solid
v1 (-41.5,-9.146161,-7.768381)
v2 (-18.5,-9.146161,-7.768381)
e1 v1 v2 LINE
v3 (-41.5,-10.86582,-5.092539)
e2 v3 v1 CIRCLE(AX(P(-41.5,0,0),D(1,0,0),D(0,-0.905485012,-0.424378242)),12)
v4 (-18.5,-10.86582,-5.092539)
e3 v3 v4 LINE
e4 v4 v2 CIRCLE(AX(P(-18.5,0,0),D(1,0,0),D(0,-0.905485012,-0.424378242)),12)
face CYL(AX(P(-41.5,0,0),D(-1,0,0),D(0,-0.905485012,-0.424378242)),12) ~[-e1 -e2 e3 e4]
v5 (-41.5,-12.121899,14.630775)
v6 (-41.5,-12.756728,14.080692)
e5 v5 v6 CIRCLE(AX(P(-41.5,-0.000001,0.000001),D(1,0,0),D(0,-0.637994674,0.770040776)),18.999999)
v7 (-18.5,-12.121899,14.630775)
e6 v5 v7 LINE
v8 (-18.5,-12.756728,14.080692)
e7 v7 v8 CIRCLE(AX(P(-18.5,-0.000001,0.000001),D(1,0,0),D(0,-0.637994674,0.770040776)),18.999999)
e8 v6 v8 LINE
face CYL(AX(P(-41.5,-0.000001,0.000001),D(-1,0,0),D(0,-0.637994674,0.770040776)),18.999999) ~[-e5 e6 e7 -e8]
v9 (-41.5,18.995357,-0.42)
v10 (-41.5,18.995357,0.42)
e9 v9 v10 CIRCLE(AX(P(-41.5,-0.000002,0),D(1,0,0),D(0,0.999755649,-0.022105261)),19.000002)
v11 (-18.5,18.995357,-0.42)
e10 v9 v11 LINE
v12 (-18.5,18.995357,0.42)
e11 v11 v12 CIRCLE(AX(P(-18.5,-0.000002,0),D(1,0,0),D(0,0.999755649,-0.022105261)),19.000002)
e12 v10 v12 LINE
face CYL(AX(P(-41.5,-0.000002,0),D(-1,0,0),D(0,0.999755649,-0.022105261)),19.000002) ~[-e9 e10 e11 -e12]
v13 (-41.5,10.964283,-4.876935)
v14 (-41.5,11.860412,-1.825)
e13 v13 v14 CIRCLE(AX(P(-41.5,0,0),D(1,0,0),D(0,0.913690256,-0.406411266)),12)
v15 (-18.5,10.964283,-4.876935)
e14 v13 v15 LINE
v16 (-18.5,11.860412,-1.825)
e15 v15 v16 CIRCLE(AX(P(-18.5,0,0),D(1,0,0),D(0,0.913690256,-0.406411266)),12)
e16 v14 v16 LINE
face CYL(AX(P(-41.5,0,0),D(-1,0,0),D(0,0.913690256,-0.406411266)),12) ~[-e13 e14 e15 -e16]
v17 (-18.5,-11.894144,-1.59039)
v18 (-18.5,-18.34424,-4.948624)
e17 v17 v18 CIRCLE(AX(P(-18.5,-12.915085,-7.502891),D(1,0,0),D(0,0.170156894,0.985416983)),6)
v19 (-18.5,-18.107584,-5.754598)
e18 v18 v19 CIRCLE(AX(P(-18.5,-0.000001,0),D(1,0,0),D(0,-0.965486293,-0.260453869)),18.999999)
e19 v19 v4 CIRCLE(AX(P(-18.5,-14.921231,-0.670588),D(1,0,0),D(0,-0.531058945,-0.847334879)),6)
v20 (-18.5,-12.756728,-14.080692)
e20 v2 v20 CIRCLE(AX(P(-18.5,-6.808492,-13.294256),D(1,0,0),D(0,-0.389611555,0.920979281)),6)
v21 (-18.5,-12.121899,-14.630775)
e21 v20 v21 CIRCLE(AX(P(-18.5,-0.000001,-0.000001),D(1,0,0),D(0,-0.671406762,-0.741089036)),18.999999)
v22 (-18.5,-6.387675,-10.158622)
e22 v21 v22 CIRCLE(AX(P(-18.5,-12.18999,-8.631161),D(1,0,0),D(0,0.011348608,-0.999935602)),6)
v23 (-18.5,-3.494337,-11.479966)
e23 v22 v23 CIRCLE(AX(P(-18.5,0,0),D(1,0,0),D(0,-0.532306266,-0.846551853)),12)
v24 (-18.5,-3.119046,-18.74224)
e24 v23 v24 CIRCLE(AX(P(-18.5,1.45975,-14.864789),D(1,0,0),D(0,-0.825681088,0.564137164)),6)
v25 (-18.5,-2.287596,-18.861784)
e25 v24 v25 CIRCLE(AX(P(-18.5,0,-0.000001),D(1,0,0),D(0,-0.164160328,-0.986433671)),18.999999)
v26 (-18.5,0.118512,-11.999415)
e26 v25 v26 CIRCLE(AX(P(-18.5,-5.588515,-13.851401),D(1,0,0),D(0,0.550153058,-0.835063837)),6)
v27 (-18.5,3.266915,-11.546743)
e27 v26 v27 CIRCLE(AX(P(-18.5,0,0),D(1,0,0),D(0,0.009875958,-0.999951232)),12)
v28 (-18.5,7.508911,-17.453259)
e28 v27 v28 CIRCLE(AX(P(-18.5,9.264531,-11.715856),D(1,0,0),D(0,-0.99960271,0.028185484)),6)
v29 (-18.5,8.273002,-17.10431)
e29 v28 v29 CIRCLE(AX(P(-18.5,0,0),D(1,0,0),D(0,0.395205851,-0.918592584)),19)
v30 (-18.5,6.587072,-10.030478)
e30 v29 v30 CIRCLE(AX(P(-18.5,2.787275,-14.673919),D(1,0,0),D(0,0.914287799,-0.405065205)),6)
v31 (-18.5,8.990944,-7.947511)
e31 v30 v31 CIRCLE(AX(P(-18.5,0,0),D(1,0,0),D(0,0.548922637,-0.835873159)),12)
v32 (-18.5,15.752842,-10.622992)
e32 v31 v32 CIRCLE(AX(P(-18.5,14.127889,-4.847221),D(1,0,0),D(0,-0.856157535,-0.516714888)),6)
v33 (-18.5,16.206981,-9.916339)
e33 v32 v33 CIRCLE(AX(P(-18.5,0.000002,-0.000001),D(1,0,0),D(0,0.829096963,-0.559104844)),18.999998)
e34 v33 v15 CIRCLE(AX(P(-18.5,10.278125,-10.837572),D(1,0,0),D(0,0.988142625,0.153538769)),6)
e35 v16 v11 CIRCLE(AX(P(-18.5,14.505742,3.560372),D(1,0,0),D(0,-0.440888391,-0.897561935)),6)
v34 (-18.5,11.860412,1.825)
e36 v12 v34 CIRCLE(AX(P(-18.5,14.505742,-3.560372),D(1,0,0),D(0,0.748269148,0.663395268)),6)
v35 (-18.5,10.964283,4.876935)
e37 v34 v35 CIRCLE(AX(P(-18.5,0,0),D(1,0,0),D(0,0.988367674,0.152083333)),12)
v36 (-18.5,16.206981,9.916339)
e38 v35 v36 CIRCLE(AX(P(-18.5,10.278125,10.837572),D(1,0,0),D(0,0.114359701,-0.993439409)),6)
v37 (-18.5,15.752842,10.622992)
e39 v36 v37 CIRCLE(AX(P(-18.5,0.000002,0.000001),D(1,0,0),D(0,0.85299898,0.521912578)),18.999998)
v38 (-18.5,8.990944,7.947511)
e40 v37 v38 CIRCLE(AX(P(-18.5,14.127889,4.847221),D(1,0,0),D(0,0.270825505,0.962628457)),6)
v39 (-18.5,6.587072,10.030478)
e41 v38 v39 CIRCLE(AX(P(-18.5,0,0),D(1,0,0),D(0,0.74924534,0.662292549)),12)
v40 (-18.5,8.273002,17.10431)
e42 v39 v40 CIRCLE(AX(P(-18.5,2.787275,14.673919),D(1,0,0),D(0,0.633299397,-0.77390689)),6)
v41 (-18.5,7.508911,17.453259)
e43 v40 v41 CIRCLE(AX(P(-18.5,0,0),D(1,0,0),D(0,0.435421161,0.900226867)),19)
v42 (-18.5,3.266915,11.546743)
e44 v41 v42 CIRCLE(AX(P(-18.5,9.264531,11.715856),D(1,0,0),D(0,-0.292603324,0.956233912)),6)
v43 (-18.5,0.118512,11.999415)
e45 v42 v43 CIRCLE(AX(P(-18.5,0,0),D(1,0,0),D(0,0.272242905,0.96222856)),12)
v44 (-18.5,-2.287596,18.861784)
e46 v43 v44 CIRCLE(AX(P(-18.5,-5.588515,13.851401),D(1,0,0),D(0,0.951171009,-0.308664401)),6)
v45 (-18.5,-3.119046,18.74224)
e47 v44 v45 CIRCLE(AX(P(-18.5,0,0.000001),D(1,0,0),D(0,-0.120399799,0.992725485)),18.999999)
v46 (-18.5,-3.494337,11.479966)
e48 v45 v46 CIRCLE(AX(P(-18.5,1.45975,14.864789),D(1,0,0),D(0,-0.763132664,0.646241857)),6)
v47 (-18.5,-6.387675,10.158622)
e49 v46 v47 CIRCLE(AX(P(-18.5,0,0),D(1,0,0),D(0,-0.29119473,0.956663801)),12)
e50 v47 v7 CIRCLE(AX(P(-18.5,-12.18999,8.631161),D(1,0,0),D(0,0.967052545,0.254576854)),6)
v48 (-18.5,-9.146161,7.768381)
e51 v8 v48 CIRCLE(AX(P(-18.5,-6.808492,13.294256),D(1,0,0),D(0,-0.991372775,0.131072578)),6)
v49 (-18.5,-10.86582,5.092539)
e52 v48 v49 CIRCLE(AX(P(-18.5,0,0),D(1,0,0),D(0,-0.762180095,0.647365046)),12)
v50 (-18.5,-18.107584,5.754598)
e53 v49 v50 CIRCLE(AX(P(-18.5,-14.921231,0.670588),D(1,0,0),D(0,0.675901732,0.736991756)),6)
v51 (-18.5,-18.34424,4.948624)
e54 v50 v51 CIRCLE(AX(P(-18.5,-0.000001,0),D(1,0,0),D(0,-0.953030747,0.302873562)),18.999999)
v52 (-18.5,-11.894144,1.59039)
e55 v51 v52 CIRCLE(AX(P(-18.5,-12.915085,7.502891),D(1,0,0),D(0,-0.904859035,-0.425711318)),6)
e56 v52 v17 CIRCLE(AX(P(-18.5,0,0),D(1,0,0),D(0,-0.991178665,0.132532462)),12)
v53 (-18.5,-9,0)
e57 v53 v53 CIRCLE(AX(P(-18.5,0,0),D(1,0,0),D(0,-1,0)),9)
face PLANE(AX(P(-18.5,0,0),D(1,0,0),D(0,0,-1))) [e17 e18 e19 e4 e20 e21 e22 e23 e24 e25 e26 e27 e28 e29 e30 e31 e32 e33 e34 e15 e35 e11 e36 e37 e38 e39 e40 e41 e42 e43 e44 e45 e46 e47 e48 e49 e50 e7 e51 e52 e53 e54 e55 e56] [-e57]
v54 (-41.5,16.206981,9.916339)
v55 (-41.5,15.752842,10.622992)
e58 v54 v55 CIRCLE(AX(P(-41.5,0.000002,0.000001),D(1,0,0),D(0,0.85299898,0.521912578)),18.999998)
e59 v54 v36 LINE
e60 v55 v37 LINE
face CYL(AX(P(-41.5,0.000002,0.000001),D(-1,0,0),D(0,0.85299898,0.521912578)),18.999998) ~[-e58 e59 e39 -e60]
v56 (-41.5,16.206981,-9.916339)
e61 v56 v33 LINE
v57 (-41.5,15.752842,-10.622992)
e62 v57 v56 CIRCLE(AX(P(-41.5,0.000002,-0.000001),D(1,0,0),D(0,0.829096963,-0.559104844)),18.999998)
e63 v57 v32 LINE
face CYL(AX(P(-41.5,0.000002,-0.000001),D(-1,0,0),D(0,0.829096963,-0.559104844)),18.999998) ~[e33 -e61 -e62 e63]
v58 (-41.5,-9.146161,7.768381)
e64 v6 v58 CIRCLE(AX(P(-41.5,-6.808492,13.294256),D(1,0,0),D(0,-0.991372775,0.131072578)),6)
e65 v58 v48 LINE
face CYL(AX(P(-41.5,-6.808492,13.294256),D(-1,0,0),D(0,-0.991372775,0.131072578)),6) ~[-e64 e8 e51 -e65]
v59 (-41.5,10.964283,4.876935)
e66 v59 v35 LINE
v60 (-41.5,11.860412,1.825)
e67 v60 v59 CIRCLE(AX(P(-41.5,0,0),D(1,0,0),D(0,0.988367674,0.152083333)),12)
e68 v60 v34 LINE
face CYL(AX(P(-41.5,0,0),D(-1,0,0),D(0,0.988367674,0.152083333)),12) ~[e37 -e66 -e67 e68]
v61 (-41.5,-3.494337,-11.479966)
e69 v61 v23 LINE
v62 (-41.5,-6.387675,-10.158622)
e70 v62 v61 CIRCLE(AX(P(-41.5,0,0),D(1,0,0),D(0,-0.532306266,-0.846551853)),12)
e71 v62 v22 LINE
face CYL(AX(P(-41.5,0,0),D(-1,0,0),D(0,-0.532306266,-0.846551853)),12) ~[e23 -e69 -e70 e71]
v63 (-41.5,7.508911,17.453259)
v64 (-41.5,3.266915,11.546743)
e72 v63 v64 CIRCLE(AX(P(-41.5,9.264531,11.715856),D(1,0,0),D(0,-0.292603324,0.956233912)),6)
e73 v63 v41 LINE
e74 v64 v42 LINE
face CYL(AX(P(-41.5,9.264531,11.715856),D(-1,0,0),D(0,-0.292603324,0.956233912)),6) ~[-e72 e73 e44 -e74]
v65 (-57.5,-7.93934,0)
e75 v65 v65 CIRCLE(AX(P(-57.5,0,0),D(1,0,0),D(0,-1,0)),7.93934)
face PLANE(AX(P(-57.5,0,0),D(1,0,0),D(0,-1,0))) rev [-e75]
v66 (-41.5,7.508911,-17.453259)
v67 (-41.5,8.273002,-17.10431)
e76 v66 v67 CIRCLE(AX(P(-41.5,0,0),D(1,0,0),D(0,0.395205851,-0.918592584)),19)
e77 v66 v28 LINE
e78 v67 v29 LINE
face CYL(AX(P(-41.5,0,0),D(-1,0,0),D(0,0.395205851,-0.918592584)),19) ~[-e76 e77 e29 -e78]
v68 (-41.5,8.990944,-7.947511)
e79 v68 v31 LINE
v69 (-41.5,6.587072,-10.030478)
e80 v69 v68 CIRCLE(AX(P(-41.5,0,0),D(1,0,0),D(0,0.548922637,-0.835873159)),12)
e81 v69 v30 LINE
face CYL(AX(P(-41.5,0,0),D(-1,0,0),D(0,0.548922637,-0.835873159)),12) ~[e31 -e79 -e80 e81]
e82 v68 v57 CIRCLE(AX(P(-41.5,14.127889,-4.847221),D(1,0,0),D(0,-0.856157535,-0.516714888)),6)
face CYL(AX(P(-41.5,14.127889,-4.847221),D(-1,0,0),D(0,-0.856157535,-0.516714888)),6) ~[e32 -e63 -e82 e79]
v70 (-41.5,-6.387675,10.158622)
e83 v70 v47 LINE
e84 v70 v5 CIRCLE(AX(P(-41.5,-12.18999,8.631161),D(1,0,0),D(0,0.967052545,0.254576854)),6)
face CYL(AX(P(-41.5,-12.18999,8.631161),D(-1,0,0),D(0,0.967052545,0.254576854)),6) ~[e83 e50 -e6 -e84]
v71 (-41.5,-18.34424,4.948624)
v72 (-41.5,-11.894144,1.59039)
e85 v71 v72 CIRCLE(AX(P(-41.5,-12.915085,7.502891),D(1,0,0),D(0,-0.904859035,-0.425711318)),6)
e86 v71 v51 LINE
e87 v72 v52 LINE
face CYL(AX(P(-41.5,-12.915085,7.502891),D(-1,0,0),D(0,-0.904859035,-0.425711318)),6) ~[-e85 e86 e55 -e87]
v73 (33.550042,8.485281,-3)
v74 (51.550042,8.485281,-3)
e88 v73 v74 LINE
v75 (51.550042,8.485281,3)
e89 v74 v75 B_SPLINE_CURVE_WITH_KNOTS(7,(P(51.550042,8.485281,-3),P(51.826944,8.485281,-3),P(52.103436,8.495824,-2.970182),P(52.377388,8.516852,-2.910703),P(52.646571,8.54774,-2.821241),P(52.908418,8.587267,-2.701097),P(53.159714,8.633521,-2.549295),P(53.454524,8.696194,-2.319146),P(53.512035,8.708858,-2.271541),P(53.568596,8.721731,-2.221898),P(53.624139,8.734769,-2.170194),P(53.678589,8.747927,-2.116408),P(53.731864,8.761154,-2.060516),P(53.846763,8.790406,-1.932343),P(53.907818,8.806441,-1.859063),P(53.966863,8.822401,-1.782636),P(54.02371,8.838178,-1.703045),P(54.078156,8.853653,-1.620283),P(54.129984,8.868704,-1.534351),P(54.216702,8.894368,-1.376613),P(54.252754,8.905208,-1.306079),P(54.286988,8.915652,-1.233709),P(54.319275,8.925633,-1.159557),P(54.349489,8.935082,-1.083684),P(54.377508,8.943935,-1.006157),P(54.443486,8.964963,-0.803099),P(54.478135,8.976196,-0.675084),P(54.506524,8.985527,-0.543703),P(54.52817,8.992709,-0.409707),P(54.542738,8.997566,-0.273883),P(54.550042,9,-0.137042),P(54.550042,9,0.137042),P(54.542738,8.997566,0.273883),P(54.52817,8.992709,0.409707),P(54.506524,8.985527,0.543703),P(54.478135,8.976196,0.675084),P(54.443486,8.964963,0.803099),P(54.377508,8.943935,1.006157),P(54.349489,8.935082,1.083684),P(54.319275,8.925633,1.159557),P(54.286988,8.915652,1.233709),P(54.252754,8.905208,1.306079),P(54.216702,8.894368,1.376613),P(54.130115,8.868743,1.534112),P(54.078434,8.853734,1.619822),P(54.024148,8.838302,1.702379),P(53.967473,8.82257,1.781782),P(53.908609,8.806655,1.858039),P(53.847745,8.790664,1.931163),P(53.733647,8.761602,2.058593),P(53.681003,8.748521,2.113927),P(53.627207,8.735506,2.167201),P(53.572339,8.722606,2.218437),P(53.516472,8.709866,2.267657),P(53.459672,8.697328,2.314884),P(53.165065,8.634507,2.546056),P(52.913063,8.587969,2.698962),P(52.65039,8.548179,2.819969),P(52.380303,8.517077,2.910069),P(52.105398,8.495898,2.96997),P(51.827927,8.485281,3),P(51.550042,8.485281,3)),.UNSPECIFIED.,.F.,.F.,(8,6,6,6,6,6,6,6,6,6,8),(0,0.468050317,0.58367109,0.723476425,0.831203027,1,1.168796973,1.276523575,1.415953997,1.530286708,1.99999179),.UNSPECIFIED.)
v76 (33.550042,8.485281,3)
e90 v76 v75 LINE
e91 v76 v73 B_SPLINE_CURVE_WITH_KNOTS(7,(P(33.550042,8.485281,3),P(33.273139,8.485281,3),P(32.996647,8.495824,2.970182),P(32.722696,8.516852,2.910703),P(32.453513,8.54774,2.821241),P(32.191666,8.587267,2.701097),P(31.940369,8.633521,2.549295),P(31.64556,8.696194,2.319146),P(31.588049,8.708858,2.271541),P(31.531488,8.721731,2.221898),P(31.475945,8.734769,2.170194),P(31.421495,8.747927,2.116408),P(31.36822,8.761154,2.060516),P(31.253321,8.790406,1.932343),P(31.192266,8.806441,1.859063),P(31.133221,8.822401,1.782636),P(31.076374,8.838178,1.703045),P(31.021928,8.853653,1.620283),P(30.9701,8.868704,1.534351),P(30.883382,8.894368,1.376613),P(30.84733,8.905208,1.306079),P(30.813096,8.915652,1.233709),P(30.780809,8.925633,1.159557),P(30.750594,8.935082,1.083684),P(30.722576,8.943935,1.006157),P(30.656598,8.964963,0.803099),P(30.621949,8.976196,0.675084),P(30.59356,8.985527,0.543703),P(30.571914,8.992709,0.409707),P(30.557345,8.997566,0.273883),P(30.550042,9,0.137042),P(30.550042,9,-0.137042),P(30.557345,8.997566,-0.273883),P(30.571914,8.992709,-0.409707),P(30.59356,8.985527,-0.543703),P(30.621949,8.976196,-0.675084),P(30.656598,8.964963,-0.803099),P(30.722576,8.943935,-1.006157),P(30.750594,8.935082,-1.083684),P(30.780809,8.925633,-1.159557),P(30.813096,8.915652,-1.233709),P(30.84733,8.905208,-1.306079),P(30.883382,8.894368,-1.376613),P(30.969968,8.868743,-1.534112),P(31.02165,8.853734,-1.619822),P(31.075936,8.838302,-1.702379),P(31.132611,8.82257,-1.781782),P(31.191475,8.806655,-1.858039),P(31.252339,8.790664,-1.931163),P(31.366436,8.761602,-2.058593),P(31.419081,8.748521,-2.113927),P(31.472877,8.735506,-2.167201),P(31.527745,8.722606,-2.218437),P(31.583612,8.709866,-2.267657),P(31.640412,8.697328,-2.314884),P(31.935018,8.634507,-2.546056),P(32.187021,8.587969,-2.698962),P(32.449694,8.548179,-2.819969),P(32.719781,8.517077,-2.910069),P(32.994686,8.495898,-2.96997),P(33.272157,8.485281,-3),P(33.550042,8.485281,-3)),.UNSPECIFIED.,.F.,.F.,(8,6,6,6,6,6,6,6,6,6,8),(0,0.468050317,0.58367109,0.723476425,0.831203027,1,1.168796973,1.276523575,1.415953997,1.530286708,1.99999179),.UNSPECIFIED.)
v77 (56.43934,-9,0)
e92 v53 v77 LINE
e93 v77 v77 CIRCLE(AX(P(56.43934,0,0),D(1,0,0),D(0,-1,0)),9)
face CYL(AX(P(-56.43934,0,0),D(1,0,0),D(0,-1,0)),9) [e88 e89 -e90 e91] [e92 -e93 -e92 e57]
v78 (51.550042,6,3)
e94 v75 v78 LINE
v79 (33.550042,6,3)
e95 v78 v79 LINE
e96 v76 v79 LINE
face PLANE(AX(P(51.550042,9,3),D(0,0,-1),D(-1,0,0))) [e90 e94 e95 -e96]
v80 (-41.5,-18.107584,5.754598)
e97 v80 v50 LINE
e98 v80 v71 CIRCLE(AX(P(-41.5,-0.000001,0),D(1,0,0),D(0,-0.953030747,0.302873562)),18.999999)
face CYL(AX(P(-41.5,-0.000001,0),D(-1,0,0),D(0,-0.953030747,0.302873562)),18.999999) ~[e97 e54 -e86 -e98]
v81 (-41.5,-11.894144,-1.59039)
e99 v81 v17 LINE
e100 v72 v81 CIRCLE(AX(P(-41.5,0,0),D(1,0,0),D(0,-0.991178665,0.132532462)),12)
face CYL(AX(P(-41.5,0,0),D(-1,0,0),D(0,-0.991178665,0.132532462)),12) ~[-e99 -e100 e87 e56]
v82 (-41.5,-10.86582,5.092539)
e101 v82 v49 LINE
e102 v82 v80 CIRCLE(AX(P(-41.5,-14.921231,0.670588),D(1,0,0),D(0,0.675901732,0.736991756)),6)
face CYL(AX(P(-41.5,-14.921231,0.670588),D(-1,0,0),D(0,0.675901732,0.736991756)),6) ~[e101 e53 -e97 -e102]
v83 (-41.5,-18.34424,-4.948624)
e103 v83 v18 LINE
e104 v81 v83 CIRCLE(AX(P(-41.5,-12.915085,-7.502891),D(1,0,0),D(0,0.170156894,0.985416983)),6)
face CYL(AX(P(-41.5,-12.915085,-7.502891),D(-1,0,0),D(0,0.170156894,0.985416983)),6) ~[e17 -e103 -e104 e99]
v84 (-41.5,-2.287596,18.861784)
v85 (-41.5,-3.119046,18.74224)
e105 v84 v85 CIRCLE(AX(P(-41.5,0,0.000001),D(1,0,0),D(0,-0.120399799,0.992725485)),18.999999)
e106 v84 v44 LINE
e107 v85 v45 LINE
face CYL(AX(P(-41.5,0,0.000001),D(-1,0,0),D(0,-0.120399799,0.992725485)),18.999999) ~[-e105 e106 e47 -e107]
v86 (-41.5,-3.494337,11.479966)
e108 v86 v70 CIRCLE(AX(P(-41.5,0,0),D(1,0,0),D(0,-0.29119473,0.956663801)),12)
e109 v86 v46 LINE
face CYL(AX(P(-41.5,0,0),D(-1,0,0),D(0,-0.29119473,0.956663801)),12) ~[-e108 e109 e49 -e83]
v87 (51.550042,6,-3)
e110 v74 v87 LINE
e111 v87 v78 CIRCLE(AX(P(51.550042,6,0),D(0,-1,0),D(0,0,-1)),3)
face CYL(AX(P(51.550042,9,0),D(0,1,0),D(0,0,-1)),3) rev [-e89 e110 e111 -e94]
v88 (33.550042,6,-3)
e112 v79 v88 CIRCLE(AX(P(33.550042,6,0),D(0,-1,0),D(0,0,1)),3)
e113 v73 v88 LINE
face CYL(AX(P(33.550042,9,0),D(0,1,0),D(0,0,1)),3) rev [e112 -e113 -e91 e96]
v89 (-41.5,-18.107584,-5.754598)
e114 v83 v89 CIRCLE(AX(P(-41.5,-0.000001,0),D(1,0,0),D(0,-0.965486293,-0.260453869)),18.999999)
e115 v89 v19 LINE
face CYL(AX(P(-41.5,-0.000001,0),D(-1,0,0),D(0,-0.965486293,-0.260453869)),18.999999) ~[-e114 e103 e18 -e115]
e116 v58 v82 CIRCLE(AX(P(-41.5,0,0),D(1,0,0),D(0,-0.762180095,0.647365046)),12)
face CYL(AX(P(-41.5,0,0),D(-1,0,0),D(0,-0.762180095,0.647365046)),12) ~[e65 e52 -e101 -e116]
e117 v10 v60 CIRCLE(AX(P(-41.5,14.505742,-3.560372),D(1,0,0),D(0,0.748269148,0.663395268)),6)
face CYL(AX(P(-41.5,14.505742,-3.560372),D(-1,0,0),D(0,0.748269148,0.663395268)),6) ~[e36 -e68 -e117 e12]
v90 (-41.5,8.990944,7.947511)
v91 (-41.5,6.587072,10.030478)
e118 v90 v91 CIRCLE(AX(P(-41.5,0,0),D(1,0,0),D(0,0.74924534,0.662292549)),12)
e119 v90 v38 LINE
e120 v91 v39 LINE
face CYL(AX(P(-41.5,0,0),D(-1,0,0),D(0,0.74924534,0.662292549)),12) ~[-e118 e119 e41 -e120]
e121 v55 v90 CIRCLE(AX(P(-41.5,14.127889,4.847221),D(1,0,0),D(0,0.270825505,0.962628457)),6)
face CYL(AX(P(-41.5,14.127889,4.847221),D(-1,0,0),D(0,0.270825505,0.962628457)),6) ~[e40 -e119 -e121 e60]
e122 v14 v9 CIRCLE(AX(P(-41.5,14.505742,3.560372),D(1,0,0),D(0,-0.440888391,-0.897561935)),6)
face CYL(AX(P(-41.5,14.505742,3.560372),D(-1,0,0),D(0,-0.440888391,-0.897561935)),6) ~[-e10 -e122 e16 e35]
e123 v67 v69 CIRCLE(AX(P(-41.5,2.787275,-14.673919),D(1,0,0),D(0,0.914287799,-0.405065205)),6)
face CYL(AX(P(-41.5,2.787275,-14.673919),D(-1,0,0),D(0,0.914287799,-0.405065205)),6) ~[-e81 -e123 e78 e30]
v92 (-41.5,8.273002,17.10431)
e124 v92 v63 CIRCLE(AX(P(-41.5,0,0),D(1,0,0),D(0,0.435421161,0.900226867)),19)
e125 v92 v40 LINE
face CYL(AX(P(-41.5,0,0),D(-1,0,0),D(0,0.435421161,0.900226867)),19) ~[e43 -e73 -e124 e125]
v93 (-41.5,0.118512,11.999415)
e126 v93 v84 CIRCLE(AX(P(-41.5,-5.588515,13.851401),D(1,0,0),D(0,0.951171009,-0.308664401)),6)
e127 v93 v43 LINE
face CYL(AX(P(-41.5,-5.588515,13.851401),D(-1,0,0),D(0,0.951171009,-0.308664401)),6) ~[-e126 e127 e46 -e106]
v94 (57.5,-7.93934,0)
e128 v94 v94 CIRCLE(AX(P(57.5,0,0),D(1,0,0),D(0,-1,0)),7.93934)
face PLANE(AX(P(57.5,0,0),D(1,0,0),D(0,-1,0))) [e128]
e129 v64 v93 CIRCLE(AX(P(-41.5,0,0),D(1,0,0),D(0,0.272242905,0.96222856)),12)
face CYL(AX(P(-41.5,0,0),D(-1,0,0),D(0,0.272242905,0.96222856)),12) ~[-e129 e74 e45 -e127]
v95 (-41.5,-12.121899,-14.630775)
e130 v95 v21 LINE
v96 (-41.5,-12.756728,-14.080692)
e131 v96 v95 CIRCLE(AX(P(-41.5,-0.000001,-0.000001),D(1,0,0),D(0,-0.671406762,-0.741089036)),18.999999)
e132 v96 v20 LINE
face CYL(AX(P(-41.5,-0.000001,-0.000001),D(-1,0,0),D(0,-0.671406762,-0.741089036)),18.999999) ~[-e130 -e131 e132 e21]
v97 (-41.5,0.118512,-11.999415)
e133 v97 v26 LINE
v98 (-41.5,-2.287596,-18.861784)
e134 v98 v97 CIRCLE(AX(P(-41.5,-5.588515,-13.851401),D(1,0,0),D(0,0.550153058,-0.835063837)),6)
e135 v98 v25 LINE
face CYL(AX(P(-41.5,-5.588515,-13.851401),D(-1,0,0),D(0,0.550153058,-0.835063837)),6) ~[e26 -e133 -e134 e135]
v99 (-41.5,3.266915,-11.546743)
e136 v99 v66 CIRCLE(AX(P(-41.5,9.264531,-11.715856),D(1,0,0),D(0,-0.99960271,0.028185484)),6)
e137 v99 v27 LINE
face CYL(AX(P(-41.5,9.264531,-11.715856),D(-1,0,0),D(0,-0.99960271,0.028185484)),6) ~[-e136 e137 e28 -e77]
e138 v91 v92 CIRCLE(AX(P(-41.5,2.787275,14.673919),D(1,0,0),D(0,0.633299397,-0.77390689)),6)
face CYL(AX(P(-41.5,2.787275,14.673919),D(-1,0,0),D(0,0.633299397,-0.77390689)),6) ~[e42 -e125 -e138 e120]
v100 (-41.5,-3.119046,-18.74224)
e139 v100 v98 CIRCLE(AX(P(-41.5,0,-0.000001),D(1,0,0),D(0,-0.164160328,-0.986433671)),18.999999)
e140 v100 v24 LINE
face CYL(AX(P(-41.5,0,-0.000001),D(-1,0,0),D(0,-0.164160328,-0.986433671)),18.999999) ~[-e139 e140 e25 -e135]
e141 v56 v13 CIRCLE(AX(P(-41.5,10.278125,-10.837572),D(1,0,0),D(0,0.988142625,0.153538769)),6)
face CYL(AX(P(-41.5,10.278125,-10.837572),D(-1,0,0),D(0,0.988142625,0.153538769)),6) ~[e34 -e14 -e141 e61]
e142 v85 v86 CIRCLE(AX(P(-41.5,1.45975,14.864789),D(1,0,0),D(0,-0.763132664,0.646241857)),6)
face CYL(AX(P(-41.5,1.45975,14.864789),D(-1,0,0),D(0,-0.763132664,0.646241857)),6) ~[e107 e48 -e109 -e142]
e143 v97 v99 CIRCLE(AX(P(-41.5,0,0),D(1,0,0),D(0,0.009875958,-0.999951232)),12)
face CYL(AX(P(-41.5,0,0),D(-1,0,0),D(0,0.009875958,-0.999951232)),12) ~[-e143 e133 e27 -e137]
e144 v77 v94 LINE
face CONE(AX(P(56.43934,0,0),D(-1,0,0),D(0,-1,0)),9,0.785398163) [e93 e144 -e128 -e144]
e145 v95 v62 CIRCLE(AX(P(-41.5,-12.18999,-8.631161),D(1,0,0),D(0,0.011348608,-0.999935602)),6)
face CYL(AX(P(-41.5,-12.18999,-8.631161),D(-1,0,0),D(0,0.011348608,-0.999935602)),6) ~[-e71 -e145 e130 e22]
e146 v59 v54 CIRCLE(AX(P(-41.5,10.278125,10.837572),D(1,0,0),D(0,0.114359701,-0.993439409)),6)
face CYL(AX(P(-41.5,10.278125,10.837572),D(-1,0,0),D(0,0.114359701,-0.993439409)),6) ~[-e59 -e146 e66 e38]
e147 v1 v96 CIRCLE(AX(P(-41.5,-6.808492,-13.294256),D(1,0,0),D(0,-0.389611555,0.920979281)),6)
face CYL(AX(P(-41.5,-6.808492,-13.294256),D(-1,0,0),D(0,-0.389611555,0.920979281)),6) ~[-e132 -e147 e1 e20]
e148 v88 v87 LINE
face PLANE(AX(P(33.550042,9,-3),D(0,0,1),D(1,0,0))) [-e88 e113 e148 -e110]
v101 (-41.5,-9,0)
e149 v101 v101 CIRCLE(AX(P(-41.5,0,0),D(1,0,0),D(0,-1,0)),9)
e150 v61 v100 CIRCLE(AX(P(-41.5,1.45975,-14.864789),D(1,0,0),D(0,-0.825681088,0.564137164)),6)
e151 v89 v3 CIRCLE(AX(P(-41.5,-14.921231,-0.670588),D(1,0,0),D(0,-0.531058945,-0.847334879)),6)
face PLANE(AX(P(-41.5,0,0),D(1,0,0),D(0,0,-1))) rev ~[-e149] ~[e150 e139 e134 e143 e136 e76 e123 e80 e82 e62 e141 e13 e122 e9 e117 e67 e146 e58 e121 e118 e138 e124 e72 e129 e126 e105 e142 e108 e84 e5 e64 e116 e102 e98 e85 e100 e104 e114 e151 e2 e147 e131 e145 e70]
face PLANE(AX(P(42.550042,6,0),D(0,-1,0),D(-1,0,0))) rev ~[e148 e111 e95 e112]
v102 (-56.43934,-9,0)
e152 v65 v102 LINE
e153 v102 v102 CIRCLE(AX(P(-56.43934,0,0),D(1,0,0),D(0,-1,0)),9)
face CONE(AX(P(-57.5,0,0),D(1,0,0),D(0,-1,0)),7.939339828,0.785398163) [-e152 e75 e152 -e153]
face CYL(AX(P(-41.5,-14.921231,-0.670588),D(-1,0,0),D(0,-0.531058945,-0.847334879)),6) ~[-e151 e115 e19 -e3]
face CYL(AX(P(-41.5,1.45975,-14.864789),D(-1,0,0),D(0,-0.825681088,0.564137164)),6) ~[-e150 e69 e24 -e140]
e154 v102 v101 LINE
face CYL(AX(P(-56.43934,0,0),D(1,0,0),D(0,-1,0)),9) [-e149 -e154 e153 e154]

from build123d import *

# Parameters (mm, degrees)
BOSS_EXTRUDE1_DEPTH = 23
CUT_EXTRUDE1_DEPTH  = 3


with BuildPart() as part:
    # Sketch1 → Revolve1 (revolve)
    with BuildSketch(Plane.XY):
        Polygon((-57.5, 0), (-57.5, -7.939339828), (-56.439339828, -9), (56.439339828, -9), (57.5, -7.939339828), (57.5, 0), align=None)
    revolve(axis=Axis((-100, 0, 0), (1, 0, 0)))

    # Sketch2 → Boss-Extrude1 (add)
    with BuildSketch(Plane.ZY.offset(41.5)):
        with BuildLine():
            ThreePointArc((-7.947510586, 8.990944082), (-10.426372404, 11.920385617), (-10.622991997, 15.752842316))
            ThreePointArc((-10.622991997, 15.752842316), (-10.272175532, 15.983817124), (-9.91633903, 16.206980602))
            ThreePointArc((-9.91633903, 16.206980602), (-6.511892526, 14.43606908), (-4.876935192, 10.964283065))
            ThreePointArc((-4.876935192, 10.964283065), (-3.380790682, 11.513915683), (-1.825, 11.860412092))
            ThreePointArc((-1.825, 11.860412092), (-2.326575595, 15.664989012), (-0.42, 18.995357328))
            ThreePointArc((-0.42, 18.995357328), (0, 19), (0.42, 18.995357328))
            ThreePointArc((0.42, 18.995357328), (2.326575595, 15.664989012), (1.825, 11.860412092))
            ThreePointArc((1.825, 11.860412092), (3.380790682, 11.513915683), (4.876935192, 10.964283065))
            ThreePointArc((4.876935192, 10.964283065), (6.511892526, 14.43606908), (9.91633903, 16.206980602))
            ThreePointArc((9.91633903, 16.206980602), (10.272175532, 15.983817124), (10.622991997, 15.752842316))
            ThreePointArc((10.622991997, 15.752842316), (10.426372404, 11.920385617), (7.947510586, 8.990944082))
            ThreePointArc((7.947510586, 8.990944082), (9.068994892, 7.858328807), (10.030477919, 6.587071635))
            ThreePointArc((10.030477919, 6.587071635), (13.282880781, 8.623799215), (17.104310483, 8.273002049))
            ThreePointArc((17.104310483, 8.273002049), (17.283007912, 7.892885247), (17.453259094, 7.508911173))
            ThreePointArc((17.453259094, 7.508911173), (15.215869643, 4.391144013), (11.546742716, 3.266914852))
            ThreePointArc((11.546742716, 3.266914852), (11.877857303, 1.707778059), (11.999414778, 0.118511503))
            ThreePointArc((11.999414778, 0.118511503), (15.836648241, 0.073534032), (18.861784211, -2.2875962))
            ThreePointArc((18.861784211, -2.2875962), (18.806607396, -2.703981927), (18.742239747, -3.119046212))
            ThreePointArc((18.742239747, -3.119046212), (15.174435781, -4.532254788), (11.479965619, -3.49433676))
            ThreePointArc((11.479965619, -3.49433676), (10.915583944, -4.984980156), (10.15862223, -6.387675194))
            ThreePointArc((10.15862223, -6.387675194), (13.36239178, -8.500077686), (14.630774723, -12.12189882))
            ThreePointArc((14.630774723, -12.12189882), (14.359241913, -12.442353945), (14.080691707, -12.756728462))
            ThreePointArc((14.080691707, -12.756728462), (10.315225776, -12.016694717), (7.768380551, -9.146161141))
            ThreePointArc((7.768380551, -9.146161141), (6.487689809, -10.095042394), (5.092538901, -10.865820151))
            ThreePointArc((5.092538901, -10.865820151), (6.645670343, -14.374974798), (5.754597637, -18.107584213))
            ThreePointArc((5.754597637, -18.107584213), (5.35291858, -18.230366499), (4.948623539, -18.344239561))
            ThreePointArc((4.948623539, -18.344239561), (2.181004471, -15.68591898), (1.590389547, -11.894143983))
            ThreePointArc((1.590389547, -11.894143983), (0, -12), (-1.590389547, -11.894143983))
            ThreePointArc((-1.590389547, -11.894143983), (-2.181004471, -15.68591898), (-4.948623539, -18.344239561))
            ThreePointArc((-4.948623539, -18.344239561), (-5.35291858, -18.230366499), (-5.754597637, -18.107584213))
            ThreePointArc((-5.754597637, -18.107584213), (-6.645670343, -14.374974798), (-5.092538901, -10.865820151))
            ThreePointArc((-5.092538901, -10.865820151), (-6.487689809, -10.095042394), (-7.768380551, -9.146161141))
            ThreePointArc((-7.768380551, -9.146161141), (-10.315225776, -12.016694717), (-14.080691707, -12.756728462))
            ThreePointArc((-14.080691707, -12.756728462), (-14.359241913, -12.442353945), (-14.630774723, -12.12189882))
            ThreePointArc((-14.630774723, -12.12189882), (-13.36239178, -8.500077686), (-10.15862223, -6.387675194))
            ThreePointArc((-10.15862223, -6.387675194), (-10.915583944, -4.984980156), (-11.479965619, -3.49433676))
            ThreePointArc((-11.479965619, -3.49433676), (-15.174435781, -4.532254788), (-18.742239747, -3.119046212))
            ThreePointArc((-18.742239747, -3.119046212), (-18.806607396, -2.703981927), (-18.861784211, -2.2875962))
            ThreePointArc((-18.861784211, -2.2875962), (-15.836648241, 0.073534032), (-11.999414778, 0.118511503))
            ThreePointArc((-11.999414778, 0.118511503), (-11.877857303, 1.707778059), (-11.546742716, 3.266914852))
            ThreePointArc((-11.546742716, 3.266914852), (-15.215869643, 4.391144013), (-17.453259094, 7.508911173))
            ThreePointArc((-17.453259094, 7.508911173), (-17.283007912, 7.892885247), (-17.104310483, 8.273002049))
            ThreePointArc((-17.104310483, 8.273002049), (-13.282880781, 8.623799215), (-10.030477919, 6.587071635))
            ThreePointArc((-10.030477919, 6.587071635), (-9.068994892, 7.858328807), (-7.947510586, 8.990944082))
        make_face()
    extrude(amount=-BOSS_EXTRUDE1_DEPTH)

    # Sketch4 → Cut-Extrude1 (cut)
    with BuildSketch(Plane(origin=(0, 9, 0), x_dir=(1, 0, 0), z_dir=(0, 1, 0))):
        with BuildLine():
            Line((33.550041919, 3), (51.550041919, 3))
            ThreePointArc((51.550041919, 3), (54.550041919, 0), (51.550041919, -3))
            Line((51.550041919, -3), (33.550041919, -3))
            ThreePointArc((33.550041919, -3), (30.550041919, 0), (33.550041919, 3))
        make_face()
    extrude(amount=-CUT_EXTRUDE1_DEPTH, mode=Mode.SUBTRACT)


solid = part.part
